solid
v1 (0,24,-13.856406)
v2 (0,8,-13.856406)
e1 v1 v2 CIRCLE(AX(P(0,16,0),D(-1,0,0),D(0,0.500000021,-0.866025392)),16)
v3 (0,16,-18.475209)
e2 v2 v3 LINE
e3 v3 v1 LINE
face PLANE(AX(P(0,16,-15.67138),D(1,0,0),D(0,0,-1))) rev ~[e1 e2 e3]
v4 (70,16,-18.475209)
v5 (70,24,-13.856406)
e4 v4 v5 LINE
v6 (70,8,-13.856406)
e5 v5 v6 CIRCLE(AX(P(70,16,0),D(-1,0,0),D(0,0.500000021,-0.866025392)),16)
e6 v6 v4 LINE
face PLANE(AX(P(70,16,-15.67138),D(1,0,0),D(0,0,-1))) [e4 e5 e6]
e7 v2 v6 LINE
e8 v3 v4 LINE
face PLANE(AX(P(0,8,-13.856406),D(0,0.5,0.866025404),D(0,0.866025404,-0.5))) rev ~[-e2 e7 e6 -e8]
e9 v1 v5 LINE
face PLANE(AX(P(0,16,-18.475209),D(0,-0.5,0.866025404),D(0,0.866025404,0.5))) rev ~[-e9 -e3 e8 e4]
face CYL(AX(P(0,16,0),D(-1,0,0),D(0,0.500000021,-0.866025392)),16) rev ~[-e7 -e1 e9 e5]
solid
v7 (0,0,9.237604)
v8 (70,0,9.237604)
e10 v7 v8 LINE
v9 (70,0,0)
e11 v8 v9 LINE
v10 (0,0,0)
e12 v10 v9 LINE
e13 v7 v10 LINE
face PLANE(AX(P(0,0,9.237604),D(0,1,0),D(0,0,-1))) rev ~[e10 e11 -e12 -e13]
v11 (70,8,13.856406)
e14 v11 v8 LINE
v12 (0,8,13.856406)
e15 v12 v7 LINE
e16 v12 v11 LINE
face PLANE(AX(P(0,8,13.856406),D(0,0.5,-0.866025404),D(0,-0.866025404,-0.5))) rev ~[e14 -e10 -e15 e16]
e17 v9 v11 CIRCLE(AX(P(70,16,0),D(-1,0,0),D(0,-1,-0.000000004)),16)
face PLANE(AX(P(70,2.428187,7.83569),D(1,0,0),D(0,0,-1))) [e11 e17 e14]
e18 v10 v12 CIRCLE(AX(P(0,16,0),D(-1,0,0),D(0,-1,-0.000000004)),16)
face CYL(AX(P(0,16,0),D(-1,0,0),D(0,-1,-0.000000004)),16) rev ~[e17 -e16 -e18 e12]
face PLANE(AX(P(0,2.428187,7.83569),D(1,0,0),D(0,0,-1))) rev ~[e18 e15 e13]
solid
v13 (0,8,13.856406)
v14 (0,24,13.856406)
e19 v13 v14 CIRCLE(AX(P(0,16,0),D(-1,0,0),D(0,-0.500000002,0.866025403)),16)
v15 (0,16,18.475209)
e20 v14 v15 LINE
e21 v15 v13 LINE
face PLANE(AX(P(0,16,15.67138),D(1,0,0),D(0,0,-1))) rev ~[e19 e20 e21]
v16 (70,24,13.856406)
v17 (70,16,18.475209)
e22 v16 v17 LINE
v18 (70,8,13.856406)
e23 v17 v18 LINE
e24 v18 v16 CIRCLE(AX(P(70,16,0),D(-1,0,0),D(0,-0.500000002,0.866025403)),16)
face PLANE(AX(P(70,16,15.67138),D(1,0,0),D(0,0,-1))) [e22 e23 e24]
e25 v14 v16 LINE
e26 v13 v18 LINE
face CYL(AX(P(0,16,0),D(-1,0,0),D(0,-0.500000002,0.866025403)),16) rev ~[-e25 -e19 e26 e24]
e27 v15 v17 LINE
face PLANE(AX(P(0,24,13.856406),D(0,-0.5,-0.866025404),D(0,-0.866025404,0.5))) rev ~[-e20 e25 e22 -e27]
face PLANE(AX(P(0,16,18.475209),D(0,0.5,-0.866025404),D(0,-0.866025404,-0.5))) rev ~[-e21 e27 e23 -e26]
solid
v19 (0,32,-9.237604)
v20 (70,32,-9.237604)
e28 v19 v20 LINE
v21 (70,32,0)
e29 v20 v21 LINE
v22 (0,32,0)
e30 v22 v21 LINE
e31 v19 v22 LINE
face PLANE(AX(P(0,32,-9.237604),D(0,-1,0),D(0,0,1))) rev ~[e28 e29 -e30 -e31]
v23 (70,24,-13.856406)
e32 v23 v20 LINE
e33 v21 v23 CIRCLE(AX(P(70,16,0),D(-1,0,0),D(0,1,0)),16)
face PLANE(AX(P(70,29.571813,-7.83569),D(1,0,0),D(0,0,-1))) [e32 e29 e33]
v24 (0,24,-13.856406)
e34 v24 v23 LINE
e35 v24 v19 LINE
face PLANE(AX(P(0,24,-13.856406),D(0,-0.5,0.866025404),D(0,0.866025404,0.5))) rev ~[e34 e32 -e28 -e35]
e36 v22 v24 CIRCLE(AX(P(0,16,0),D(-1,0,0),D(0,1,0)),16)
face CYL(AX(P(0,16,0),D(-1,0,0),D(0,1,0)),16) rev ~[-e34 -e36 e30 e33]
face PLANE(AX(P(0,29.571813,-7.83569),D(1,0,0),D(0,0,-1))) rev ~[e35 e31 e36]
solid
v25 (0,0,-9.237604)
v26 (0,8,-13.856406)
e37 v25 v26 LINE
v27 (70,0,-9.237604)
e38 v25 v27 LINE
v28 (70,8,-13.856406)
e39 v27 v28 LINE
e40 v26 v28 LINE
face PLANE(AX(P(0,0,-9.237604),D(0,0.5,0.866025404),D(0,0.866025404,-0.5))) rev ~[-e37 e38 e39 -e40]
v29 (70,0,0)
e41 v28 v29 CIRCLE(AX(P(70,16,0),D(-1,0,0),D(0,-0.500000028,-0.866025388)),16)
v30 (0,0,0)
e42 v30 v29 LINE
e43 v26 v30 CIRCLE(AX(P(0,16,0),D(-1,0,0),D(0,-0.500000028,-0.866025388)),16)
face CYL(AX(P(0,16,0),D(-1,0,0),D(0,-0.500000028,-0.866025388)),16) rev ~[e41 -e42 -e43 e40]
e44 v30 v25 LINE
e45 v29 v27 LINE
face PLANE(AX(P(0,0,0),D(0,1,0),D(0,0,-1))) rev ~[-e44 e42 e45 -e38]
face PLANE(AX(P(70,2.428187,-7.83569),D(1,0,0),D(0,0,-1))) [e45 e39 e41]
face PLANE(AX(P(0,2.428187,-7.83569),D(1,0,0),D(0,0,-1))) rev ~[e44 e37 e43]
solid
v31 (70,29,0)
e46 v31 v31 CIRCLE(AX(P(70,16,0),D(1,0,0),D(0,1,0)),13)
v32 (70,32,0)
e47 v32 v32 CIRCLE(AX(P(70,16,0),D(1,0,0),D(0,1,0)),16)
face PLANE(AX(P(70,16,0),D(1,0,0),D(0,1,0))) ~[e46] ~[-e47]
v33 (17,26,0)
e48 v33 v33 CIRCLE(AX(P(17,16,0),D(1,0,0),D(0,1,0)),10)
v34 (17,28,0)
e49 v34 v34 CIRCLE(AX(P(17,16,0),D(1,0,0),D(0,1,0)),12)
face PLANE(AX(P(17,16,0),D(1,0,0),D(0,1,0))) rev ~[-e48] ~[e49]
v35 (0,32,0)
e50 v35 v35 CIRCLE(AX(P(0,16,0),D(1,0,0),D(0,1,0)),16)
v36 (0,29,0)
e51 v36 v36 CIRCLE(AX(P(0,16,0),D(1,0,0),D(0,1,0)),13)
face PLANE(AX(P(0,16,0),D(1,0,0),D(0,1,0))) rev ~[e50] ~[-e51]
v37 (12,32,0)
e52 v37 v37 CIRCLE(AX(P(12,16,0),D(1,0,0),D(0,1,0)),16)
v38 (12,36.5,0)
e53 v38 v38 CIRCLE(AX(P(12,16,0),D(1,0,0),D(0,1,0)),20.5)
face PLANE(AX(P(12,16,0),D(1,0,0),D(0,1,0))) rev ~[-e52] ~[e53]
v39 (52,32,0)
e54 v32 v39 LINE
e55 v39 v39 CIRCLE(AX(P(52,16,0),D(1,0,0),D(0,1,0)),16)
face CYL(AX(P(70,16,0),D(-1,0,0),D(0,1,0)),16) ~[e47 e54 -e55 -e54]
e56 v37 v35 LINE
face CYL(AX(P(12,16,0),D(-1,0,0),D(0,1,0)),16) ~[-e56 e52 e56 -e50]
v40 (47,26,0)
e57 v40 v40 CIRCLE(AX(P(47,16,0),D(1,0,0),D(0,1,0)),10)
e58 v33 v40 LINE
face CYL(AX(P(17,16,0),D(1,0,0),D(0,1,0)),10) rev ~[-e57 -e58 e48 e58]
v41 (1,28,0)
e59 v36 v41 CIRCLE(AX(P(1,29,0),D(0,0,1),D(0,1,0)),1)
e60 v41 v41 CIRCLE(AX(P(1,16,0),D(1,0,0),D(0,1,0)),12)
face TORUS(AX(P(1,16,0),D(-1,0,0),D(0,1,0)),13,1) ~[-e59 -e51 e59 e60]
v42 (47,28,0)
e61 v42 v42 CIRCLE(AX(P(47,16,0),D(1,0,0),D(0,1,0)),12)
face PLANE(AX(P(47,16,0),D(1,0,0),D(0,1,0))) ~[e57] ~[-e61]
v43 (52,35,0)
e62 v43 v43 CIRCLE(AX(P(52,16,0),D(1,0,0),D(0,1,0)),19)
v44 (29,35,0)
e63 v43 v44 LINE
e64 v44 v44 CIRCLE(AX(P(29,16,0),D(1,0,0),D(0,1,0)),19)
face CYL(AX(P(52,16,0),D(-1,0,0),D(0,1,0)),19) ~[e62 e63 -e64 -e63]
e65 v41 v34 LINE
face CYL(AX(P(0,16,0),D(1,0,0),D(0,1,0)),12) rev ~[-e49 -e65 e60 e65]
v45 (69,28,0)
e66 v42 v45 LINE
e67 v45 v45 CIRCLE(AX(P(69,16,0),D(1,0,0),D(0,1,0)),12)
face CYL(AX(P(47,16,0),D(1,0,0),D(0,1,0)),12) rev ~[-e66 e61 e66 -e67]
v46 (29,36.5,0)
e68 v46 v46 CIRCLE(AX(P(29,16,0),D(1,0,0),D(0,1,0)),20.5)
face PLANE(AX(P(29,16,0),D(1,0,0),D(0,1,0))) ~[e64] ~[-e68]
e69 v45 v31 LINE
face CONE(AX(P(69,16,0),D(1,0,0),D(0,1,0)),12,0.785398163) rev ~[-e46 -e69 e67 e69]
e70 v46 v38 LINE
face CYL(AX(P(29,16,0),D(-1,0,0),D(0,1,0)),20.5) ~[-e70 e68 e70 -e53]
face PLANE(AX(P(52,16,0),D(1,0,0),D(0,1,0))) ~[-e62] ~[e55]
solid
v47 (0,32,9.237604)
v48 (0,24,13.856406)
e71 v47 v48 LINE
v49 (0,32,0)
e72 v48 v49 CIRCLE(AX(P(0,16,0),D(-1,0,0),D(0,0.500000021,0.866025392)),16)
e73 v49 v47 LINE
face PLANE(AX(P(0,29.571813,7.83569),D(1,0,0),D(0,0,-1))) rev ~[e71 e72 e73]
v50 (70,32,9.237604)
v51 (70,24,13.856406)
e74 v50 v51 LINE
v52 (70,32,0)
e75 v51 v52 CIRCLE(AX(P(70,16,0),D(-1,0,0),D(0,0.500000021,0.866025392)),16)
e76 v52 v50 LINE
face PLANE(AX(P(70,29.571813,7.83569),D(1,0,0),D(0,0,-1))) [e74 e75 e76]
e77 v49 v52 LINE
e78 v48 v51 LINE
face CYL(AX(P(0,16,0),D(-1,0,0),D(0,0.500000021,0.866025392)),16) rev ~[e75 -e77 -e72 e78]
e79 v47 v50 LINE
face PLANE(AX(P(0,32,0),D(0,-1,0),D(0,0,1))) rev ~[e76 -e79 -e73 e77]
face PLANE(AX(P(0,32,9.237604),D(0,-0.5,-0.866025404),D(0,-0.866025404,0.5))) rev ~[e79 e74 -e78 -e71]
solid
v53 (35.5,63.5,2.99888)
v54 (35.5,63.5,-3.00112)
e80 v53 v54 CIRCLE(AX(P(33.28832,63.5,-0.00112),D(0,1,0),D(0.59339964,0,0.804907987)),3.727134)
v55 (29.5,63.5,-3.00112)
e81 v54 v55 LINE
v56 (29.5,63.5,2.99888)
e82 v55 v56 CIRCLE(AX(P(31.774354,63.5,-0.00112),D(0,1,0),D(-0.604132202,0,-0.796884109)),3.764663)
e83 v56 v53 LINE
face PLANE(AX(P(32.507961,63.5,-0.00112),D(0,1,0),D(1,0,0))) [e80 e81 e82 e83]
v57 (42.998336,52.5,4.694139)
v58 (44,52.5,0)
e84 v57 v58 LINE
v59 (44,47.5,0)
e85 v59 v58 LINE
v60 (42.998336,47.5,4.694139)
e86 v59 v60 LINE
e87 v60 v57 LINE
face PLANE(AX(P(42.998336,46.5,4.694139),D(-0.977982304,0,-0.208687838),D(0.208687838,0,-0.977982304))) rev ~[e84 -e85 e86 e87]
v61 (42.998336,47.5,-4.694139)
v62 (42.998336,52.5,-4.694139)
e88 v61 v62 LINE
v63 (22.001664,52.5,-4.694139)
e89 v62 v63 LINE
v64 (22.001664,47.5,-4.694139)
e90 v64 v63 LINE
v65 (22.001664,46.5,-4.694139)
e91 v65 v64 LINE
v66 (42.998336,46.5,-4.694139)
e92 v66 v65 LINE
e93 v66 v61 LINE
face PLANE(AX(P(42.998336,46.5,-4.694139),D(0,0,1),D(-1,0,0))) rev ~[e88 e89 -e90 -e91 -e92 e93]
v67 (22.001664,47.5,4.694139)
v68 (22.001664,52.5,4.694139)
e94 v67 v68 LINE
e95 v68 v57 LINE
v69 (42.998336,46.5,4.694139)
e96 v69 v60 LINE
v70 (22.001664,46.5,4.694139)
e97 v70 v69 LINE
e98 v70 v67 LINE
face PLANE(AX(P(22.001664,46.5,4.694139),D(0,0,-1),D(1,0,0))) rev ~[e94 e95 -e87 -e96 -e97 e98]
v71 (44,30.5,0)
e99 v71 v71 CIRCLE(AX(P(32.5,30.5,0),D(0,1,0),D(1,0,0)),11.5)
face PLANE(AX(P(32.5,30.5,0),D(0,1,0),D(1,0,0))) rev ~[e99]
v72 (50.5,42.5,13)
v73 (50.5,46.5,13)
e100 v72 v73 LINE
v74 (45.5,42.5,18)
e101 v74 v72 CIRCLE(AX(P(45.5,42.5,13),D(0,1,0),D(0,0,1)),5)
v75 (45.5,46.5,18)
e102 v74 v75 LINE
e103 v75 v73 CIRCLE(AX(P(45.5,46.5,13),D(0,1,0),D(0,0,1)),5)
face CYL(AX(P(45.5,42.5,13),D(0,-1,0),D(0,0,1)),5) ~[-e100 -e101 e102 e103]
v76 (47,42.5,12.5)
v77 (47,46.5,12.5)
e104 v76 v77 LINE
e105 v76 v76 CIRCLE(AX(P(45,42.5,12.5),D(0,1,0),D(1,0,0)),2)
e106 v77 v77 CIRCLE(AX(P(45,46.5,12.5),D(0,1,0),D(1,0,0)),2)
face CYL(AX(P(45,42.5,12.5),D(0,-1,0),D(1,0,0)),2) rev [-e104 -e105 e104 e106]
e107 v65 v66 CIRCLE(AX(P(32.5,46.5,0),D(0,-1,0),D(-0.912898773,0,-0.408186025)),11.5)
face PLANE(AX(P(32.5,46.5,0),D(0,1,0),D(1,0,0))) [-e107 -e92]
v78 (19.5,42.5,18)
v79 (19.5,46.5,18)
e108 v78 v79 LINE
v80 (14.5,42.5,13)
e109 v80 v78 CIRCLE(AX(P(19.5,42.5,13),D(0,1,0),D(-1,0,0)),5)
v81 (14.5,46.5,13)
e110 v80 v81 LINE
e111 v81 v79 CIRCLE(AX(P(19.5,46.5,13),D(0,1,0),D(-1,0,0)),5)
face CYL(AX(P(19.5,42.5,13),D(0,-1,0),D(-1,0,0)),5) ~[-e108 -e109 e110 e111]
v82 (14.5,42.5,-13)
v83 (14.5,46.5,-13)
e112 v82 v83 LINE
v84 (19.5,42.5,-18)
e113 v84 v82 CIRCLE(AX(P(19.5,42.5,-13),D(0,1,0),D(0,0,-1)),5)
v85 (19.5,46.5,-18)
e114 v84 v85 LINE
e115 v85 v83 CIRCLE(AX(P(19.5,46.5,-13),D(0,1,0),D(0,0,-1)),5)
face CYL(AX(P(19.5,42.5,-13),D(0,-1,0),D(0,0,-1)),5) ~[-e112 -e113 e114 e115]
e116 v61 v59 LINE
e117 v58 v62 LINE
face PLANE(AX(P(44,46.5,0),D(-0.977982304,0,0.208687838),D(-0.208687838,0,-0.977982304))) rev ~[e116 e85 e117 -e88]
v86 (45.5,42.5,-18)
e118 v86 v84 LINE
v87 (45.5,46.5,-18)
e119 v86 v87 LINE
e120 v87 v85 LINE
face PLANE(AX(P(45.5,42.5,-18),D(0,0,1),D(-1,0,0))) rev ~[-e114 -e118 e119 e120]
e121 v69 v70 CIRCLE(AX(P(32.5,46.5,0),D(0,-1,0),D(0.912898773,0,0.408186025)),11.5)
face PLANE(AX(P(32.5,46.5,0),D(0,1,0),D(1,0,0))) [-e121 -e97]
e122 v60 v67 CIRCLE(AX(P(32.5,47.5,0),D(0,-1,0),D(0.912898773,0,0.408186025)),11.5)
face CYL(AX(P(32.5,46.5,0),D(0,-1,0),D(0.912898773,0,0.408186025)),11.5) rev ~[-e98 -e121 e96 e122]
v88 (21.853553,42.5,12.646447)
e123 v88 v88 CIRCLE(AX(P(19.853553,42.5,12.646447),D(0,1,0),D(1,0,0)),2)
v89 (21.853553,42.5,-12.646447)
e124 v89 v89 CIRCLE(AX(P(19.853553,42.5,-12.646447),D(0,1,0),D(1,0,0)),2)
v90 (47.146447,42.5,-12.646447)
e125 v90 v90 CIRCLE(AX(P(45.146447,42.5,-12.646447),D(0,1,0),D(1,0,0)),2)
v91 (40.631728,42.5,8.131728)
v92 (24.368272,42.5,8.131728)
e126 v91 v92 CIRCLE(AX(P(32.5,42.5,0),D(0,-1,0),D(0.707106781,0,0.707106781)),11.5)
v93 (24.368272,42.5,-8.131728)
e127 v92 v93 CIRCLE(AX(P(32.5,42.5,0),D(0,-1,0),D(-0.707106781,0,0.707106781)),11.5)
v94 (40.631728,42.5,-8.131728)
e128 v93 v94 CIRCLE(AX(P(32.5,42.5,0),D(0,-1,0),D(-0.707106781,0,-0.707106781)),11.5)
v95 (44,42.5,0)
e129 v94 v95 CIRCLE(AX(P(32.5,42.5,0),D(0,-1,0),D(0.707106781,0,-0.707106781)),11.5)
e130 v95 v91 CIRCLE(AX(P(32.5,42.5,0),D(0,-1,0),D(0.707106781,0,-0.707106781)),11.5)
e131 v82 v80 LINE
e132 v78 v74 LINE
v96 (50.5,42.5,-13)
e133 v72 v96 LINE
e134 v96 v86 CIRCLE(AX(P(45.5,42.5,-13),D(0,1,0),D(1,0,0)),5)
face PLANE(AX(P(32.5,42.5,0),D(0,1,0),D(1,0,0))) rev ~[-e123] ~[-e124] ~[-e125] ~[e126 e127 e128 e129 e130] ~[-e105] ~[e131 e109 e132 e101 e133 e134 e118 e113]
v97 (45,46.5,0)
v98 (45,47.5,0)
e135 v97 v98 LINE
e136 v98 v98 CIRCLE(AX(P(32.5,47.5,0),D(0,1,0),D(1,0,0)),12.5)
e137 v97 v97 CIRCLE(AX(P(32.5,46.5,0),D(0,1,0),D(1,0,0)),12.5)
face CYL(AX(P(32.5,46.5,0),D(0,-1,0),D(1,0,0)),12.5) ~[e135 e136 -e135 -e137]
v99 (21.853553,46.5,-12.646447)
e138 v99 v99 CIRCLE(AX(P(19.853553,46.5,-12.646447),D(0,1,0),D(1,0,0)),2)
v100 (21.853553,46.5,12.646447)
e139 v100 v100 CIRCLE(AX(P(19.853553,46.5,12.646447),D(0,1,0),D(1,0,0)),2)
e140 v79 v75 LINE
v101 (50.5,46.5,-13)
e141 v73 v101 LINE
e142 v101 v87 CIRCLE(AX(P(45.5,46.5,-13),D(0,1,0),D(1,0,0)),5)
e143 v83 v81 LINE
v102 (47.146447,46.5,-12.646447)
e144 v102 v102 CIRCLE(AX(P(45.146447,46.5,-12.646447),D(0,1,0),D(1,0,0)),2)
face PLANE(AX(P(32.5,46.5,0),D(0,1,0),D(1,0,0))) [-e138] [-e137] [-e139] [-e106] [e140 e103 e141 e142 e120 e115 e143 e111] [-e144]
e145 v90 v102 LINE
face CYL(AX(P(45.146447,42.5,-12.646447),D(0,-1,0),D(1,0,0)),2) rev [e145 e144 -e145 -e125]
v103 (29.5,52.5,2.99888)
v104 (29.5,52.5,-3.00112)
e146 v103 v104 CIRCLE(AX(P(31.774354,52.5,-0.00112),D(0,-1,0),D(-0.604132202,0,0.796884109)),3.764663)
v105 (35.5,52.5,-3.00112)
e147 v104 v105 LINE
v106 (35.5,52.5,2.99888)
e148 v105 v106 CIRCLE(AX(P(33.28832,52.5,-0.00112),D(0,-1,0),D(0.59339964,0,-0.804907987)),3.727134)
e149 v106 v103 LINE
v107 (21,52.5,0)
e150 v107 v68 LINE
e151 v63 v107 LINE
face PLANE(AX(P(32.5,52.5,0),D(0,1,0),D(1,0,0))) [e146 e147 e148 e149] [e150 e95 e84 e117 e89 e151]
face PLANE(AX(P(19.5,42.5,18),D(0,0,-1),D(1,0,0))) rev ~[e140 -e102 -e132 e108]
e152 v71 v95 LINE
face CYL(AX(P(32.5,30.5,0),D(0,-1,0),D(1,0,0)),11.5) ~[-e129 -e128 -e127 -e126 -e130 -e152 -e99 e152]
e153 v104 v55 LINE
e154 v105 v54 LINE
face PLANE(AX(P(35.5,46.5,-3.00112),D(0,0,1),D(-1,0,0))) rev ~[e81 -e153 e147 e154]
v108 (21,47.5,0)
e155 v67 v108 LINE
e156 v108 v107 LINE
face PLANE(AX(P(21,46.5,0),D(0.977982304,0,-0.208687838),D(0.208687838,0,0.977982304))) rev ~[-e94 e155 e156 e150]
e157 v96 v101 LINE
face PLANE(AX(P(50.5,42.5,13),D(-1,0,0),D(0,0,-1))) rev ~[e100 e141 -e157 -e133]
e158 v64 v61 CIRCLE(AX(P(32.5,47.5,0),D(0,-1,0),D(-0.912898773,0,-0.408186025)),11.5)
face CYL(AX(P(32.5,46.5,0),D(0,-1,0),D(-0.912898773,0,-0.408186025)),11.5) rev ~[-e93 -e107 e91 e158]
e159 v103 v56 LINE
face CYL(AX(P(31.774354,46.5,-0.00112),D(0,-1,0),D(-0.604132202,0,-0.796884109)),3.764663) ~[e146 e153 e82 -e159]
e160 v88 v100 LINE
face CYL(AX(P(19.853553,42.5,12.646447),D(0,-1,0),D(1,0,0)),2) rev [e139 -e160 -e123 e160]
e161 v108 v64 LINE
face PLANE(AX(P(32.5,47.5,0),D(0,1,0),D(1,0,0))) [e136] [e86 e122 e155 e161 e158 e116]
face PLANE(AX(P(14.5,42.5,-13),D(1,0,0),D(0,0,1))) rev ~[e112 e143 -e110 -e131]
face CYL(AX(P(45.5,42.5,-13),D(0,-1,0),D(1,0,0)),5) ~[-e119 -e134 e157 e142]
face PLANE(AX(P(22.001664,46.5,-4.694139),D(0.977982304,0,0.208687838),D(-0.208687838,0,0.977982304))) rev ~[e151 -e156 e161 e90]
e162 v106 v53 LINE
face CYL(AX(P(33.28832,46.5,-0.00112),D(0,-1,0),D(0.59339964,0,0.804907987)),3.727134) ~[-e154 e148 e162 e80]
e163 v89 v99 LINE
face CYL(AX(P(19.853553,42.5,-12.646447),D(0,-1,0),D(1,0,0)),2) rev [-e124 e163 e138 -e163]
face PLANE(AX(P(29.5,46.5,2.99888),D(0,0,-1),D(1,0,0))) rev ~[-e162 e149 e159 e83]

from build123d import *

# Parameters (mm, degrees)
DODANIE_WYCI_GNI_CIE2_DEPTH      = 70
DODANIE_WYCI_GNI_CIE2_2_DEPTH    = 70
DODANIE_WYCI_GNI_CIE2_3_DEPTH    = 70
DODANIE_WYCI_GNI_CIE2_4_DEPTH    = 70
DODANIE_WYCI_GNI_CIE2_5_DEPTH    = 70
DODANIE_WYCI_GNI_CIE2_6_DEPTH    = 70
ZAOKR_GLENIE2_R                  = 1
SFAZOWANIE1_SIZE                 = 1
DODANIE_WYCI_GNI_CIE3_DEPTH      = 10
DODANIE_WYCI_GNI_CIE3_DEPTH_BACK = 6
DODANIE_WYCI_GNI_CIE3_START      = 36.5
SZKIC5_R                         = 11.5
DODANIE_WYCI_GNI_CIE5_START      = 42.5
SZKIC5_12_R                      = 2
DODANIE_WYCI_GNI_CIE5_DEPTH      = 4
DODANIE_WYCI_GNI_CIE6_START      = 46.5
DODANIE_WYCI_GNI_CIE6_DEPTH      = 6
DODANIE_WYCI_GNI_CIE7_START      = 46.5
DODANIE_WYCI_GNI_CIE7_DEPTH      = 17
DODANIE_WYCI_GNI_CIE12_START     = 46.5
SZKIC7_7_R                       = 12.5
DODANIE_WYCI_GNI_CIE12_DEPTH     = 1


with BuildPart() as part:
    # Szkic1 → Obrót2 (revolve)
    with BuildSketch(Plane.XY):
        Polygon((0, 32), (0, 28), (17, 28), (17, 26), (47, 26), (47, 28), (70, 28), (70, 32), (52, 32), (52, 35), (29, 35), (29, 36.5), (12, 36.5), (12, 32), align=None)
    revolve(axis=Axis((0, 16, 0), (1, 0, 0)))

    # Zaokrąglenie2
    zaokr_glenie2_edges = [part.edges().sort_by_distance(p)[0] for p in [
        (0, 4, 0),
    ]]
    fillet(zaokr_glenie2_edges, radius=ZAOKR_GLENIE2_R)

    # Sfazowanie1
    sfazowanie1_edges = [part.edges().sort_by_distance(p)[0] for p in [
        (70, 4, 0),
    ]]
    chamfer(sfazowanie1_edges, length=SFAZOWANIE1_SIZE)


with BuildPart() as body_2:
    # Szkic2 → Dodanie-wyciągnięcie2 (new body)
    with BuildSketch(Plane(origin=(0, 0, 0), x_dir=(0, 0, -1), z_dir=(1, 0, 0))):
        with BuildLine():
            Line((13.856406207, 7.99999956), (18.475208614, 16))
            Line((18.475208614, 16), (13.856406265, 24.000000339))
            ThreePointArc((13.856406265, 24.000000339), (16, 15.999999942), (13.856406207, 7.99999956))
        make_face()
    extrude(amount=DODANIE_WYCI_GNI_CIE2_DEPTH)


with BuildPart() as body_3:
    # Szkic2 → Dodanie-wyci_gni_cie2 2 (new body)
    with BuildSketch(Plane(origin=(0, 0, 0), x_dir=(0, 0, -1), z_dir=(1, 0, 0))):
        with BuildLine():
            ThreePointArc((0, 32), (7.999999831, 29.856406558), (13.856406265, 24.000000339))
            Line((13.856406265, 24.000000339), (9.237604307, 32))
            Line((9.237604307, 32), (0, 32))
        make_face()
    extrude(amount=DODANIE_WYCI_GNI_CIE2_2_DEPTH)


with BuildPart() as body_4:
    # Szkic2 → Dodanie-wyci_gni_cie2 3 (new body)
    with BuildSketch(Plane(origin=(0, 0, 0), x_dir=(0, 0, -1), z_dir=(1, 0, 0))):
        with BuildLine():
            Line((9.237604307, 0), (13.856406207, 7.99999956))
            ThreePointArc((13.856406207, 7.99999956), (7.99999981, 2.14359343), (6.9e-08, 0))
            Line((6.9e-08, 0), (9.237604307, 0))
        make_face()
    extrude(amount=DODANIE_WYCI_GNI_CIE2_3_DEPTH)


with BuildPart() as body_5:
    # Szkic2 → Dodanie-wyci_gni_cie2 4 (new body)
    with BuildSketch(Plane(origin=(0, 0, 0), x_dir=(0, 0, -1), z_dir=(1, 0, 0))):
        with BuildLine():
            ThreePointArc((-13.856406265, 24.000000339), (-7.999999831, 29.856406558), (0, 32))
            Line((0, 32), (-9.237604307, 32))
            Line((-9.237604307, 32), (-13.856406265, 24.000000339))
        make_face()
    extrude(amount=DODANIE_WYCI_GNI_CIE2_4_DEPTH)


with BuildPart() as body_6:
    # Szkic2 → Dodanie-wyci_gni_cie2 5 (new body)
    with BuildSketch(Plane(origin=(0, 0, 0), x_dir=(0, 0, -1), z_dir=(1, 0, 0))):
        with BuildLine():
            Line((-9.237604307, 0), (6.9e-08, 0))
            ThreePointArc((6.9e-08, 0), (-7.999999954, 2.143593513), (-13.856406442, 7.999999968))
            Line((-13.856406442, 7.999999968), (-9.237604307, 0))
        make_face()
    extrude(amount=DODANIE_WYCI_GNI_CIE2_5_DEPTH)


with BuildPart() as body_7:
    # Szkic2 → Dodanie-wyci_gni_cie2 6 (new body)
    with BuildSketch(Plane(origin=(0, 0, 0), x_dir=(0, 0, -1), z_dir=(1, 0, 0))):
        with BuildLine():
            ThreePointArc((-13.856406442, 7.999999968), (-16, 16.000000177), (-13.856406265, 24.000000339))
            Line((-13.856406265, 24.000000339), (-18.475208614, 16))
            Line((-18.475208614, 16), (-13.856406442, 7.999999968))
        make_face()
    extrude(amount=DODANIE_WYCI_GNI_CIE2_6_DEPTH)


with BuildPart() as body_8:
    # Szkic5 → Dodanie-wyciągnięcie3 (new, two sides: drawn at the far end of the back side and taken through both)
    with BuildSketch(Plane(origin=(0, 0, 0), x_dir=(1, 0, 0), z_dir=(0, 1, 0)).offset(DODANIE_WYCI_GNI_CIE3_START - DODANIE_WYCI_GNI_CIE3_DEPTH_BACK)):
        with Locations((32.5, 0)):
            Circle(SZKIC5_R)
    extrude(amount=DODANIE_WYCI_GNI_CIE3_DEPTH + DODANIE_WYCI_GNI_CIE3_DEPTH_BACK)



with BuildPart() as body_9:
    # Szkic5<12> → Dodanie-wyciągnięcie5 (new body)
    with BuildSketch(Plane(origin=(0, 0, 0), x_dir=(1, 0, 0), z_dir=(0, 1, 0)).offset(DODANIE_WYCI_GNI_CIE5_START)):
        with BuildLine():
            Line((14.5, 13), (14.5, -13))
            ThreePointArc((14.5, -13), (15.964466094, -16.535533906), (19.5, -18))
            Line((19.5, -18), (45.5, -18))
            ThreePointArc((45.5, -18), (49.035533906, -16.535533906), (50.5, -13))
            Line((50.5, -13), (50.5, 13))
            ThreePointArc((50.5, 13), (49.035533906, 16.535533906), (45.5, 18))
            Line((45.5, 18), (19.5, 18))
            ThreePointArc((19.5, 18), (15.964466094, 16.535533906), (14.5, 13))
        make_face()
        with BuildLine():
            ThreePointArc((24.368272016, 8.131727984), (32.5, 11.5), (40.631727984, 8.131727984))
            ThreePointArc((40.631727984, 8.131727984), (44, 0), (40.631727984, -8.131727984))
            ThreePointArc((40.631727984, -8.131727984), (32.5, -11.5), (24.368272016, -8.131727984))
            ThreePointArc((24.368272016, -8.131727984), (21, 0), (24.368272016, 8.131727984))
        make_face(mode=Mode.SUBTRACT)
        with Locations((19.853553391, 12.646446609)):
            Circle(SZKIC5_12_R, mode=Mode.SUBTRACT)
        with Locations((19.853553391, -12.646446609)):
            Circle(SZKIC5_12_R, mode=Mode.SUBTRACT)
        with Locations((45, -12.5)):
            Circle(SZKIC5_12_R, mode=Mode.SUBTRACT)
        with Locations((45.146446609, 12.646446609)):
            Circle(SZKIC5_12_R, mode=Mode.SUBTRACT)
    extrude(amount=DODANIE_WYCI_GNI_CIE5_DEPTH)


with BuildPart() as body_10:
    # Szkic7 → Dodanie-wyciągnięcie6 (new body)
    with BuildSketch(Plane(origin=(0, 0, 0), x_dir=(1, 0, 0), z_dir=(0, 1, 0)).offset(DODANIE_WYCI_GNI_CIE6_START)):
        Polygon((22.001664113, -4.694139282), (42.998335887, -4.694139282), (44, 0), (42.998335887, 4.694139282), (22.001664113, 4.694139282), (21, 0), align=None)
        with BuildLine():
            ThreePointArc((29.5, -2.998879941), (28.009691206, 0.001120059), (29.5, 3.001120059))
            Line((29.5, 3.001120059), (35.5, 3.001120059))
            ThreePointArc((35.5, 3.001120059), (37.015454065, 0.001120059), (35.5, -2.998879941))
            Line((35.5, -2.998879941), (29.5, -2.998879941))
        make_face(mode=Mode.SUBTRACT)
    extrude(amount=DODANIE_WYCI_GNI_CIE6_DEPTH)


with BuildPart() as body_8_1:
    add(body_8.part)

    add(body_9.part)  # Dodanie-wyciągnięcie7 merges body 9

    add(body_10.part)  # Dodanie-wyciągnięcie7 merges body 10
    # Szkic7<4> → Dodanie-wyciągnięcie7 (add)
    with BuildSketch(Plane(origin=(0, 0, 0), x_dir=(1, 0, 0), z_dir=(0, 1, 0)).offset(DODANIE_WYCI_GNI_CIE7_START)):
        with BuildLine():
            ThreePointArc((29.5, 3.001120059), (28.009691206, 0.001120059), (29.5, -2.998879941))
            Line((29.5, -2.998879941), (35.5, -2.998879941))
            ThreePointArc((35.5, -2.998879941), (37.015454065, 0.001120059), (35.5, 3.001120059))
            Line((35.5, 3.001120059), (29.5, 3.001120059))
        make_face()
    extrude(amount=DODANIE_WYCI_GNI_CIE7_DEPTH)

    # Szkic7<7> → Dodanie-wyciągnięcie12 (add)
    with BuildSketch(Plane(origin=(0, 0, 0), x_dir=(1, 0, 0), z_dir=(0, 1, 0)).offset(DODANIE_WYCI_GNI_CIE12_START)):
        with Locations((32.5, 0)):
            Circle(SZKIC7_7_R)
        with BuildLine():
            Line((21, 0), (22.001664113, 4.694139282))
            ThreePointArc((22.001664113, 4.694139282), (32.5, 11.5), (42.998335887, 4.694139282))
            Line((42.998335887, 4.694139282), (44, 0))
            Line((44, 0), (42.998335887, -4.694139282))
            ThreePointArc((42.998335887, -4.694139282), (32.5, -11.5), (22.001664113, -4.694139282))
            Line((22.001664113, -4.694139282), (21, 0))
        make_face(mode=Mode.SUBTRACT)
    extrude(amount=DODANIE_WYCI_GNI_CIE12_DEPTH)


solid = Compound([part.part, body_2.part, body_3.part, body_4.part, body_5.part, body_6.part, body_7.part, body_8_1.part])
